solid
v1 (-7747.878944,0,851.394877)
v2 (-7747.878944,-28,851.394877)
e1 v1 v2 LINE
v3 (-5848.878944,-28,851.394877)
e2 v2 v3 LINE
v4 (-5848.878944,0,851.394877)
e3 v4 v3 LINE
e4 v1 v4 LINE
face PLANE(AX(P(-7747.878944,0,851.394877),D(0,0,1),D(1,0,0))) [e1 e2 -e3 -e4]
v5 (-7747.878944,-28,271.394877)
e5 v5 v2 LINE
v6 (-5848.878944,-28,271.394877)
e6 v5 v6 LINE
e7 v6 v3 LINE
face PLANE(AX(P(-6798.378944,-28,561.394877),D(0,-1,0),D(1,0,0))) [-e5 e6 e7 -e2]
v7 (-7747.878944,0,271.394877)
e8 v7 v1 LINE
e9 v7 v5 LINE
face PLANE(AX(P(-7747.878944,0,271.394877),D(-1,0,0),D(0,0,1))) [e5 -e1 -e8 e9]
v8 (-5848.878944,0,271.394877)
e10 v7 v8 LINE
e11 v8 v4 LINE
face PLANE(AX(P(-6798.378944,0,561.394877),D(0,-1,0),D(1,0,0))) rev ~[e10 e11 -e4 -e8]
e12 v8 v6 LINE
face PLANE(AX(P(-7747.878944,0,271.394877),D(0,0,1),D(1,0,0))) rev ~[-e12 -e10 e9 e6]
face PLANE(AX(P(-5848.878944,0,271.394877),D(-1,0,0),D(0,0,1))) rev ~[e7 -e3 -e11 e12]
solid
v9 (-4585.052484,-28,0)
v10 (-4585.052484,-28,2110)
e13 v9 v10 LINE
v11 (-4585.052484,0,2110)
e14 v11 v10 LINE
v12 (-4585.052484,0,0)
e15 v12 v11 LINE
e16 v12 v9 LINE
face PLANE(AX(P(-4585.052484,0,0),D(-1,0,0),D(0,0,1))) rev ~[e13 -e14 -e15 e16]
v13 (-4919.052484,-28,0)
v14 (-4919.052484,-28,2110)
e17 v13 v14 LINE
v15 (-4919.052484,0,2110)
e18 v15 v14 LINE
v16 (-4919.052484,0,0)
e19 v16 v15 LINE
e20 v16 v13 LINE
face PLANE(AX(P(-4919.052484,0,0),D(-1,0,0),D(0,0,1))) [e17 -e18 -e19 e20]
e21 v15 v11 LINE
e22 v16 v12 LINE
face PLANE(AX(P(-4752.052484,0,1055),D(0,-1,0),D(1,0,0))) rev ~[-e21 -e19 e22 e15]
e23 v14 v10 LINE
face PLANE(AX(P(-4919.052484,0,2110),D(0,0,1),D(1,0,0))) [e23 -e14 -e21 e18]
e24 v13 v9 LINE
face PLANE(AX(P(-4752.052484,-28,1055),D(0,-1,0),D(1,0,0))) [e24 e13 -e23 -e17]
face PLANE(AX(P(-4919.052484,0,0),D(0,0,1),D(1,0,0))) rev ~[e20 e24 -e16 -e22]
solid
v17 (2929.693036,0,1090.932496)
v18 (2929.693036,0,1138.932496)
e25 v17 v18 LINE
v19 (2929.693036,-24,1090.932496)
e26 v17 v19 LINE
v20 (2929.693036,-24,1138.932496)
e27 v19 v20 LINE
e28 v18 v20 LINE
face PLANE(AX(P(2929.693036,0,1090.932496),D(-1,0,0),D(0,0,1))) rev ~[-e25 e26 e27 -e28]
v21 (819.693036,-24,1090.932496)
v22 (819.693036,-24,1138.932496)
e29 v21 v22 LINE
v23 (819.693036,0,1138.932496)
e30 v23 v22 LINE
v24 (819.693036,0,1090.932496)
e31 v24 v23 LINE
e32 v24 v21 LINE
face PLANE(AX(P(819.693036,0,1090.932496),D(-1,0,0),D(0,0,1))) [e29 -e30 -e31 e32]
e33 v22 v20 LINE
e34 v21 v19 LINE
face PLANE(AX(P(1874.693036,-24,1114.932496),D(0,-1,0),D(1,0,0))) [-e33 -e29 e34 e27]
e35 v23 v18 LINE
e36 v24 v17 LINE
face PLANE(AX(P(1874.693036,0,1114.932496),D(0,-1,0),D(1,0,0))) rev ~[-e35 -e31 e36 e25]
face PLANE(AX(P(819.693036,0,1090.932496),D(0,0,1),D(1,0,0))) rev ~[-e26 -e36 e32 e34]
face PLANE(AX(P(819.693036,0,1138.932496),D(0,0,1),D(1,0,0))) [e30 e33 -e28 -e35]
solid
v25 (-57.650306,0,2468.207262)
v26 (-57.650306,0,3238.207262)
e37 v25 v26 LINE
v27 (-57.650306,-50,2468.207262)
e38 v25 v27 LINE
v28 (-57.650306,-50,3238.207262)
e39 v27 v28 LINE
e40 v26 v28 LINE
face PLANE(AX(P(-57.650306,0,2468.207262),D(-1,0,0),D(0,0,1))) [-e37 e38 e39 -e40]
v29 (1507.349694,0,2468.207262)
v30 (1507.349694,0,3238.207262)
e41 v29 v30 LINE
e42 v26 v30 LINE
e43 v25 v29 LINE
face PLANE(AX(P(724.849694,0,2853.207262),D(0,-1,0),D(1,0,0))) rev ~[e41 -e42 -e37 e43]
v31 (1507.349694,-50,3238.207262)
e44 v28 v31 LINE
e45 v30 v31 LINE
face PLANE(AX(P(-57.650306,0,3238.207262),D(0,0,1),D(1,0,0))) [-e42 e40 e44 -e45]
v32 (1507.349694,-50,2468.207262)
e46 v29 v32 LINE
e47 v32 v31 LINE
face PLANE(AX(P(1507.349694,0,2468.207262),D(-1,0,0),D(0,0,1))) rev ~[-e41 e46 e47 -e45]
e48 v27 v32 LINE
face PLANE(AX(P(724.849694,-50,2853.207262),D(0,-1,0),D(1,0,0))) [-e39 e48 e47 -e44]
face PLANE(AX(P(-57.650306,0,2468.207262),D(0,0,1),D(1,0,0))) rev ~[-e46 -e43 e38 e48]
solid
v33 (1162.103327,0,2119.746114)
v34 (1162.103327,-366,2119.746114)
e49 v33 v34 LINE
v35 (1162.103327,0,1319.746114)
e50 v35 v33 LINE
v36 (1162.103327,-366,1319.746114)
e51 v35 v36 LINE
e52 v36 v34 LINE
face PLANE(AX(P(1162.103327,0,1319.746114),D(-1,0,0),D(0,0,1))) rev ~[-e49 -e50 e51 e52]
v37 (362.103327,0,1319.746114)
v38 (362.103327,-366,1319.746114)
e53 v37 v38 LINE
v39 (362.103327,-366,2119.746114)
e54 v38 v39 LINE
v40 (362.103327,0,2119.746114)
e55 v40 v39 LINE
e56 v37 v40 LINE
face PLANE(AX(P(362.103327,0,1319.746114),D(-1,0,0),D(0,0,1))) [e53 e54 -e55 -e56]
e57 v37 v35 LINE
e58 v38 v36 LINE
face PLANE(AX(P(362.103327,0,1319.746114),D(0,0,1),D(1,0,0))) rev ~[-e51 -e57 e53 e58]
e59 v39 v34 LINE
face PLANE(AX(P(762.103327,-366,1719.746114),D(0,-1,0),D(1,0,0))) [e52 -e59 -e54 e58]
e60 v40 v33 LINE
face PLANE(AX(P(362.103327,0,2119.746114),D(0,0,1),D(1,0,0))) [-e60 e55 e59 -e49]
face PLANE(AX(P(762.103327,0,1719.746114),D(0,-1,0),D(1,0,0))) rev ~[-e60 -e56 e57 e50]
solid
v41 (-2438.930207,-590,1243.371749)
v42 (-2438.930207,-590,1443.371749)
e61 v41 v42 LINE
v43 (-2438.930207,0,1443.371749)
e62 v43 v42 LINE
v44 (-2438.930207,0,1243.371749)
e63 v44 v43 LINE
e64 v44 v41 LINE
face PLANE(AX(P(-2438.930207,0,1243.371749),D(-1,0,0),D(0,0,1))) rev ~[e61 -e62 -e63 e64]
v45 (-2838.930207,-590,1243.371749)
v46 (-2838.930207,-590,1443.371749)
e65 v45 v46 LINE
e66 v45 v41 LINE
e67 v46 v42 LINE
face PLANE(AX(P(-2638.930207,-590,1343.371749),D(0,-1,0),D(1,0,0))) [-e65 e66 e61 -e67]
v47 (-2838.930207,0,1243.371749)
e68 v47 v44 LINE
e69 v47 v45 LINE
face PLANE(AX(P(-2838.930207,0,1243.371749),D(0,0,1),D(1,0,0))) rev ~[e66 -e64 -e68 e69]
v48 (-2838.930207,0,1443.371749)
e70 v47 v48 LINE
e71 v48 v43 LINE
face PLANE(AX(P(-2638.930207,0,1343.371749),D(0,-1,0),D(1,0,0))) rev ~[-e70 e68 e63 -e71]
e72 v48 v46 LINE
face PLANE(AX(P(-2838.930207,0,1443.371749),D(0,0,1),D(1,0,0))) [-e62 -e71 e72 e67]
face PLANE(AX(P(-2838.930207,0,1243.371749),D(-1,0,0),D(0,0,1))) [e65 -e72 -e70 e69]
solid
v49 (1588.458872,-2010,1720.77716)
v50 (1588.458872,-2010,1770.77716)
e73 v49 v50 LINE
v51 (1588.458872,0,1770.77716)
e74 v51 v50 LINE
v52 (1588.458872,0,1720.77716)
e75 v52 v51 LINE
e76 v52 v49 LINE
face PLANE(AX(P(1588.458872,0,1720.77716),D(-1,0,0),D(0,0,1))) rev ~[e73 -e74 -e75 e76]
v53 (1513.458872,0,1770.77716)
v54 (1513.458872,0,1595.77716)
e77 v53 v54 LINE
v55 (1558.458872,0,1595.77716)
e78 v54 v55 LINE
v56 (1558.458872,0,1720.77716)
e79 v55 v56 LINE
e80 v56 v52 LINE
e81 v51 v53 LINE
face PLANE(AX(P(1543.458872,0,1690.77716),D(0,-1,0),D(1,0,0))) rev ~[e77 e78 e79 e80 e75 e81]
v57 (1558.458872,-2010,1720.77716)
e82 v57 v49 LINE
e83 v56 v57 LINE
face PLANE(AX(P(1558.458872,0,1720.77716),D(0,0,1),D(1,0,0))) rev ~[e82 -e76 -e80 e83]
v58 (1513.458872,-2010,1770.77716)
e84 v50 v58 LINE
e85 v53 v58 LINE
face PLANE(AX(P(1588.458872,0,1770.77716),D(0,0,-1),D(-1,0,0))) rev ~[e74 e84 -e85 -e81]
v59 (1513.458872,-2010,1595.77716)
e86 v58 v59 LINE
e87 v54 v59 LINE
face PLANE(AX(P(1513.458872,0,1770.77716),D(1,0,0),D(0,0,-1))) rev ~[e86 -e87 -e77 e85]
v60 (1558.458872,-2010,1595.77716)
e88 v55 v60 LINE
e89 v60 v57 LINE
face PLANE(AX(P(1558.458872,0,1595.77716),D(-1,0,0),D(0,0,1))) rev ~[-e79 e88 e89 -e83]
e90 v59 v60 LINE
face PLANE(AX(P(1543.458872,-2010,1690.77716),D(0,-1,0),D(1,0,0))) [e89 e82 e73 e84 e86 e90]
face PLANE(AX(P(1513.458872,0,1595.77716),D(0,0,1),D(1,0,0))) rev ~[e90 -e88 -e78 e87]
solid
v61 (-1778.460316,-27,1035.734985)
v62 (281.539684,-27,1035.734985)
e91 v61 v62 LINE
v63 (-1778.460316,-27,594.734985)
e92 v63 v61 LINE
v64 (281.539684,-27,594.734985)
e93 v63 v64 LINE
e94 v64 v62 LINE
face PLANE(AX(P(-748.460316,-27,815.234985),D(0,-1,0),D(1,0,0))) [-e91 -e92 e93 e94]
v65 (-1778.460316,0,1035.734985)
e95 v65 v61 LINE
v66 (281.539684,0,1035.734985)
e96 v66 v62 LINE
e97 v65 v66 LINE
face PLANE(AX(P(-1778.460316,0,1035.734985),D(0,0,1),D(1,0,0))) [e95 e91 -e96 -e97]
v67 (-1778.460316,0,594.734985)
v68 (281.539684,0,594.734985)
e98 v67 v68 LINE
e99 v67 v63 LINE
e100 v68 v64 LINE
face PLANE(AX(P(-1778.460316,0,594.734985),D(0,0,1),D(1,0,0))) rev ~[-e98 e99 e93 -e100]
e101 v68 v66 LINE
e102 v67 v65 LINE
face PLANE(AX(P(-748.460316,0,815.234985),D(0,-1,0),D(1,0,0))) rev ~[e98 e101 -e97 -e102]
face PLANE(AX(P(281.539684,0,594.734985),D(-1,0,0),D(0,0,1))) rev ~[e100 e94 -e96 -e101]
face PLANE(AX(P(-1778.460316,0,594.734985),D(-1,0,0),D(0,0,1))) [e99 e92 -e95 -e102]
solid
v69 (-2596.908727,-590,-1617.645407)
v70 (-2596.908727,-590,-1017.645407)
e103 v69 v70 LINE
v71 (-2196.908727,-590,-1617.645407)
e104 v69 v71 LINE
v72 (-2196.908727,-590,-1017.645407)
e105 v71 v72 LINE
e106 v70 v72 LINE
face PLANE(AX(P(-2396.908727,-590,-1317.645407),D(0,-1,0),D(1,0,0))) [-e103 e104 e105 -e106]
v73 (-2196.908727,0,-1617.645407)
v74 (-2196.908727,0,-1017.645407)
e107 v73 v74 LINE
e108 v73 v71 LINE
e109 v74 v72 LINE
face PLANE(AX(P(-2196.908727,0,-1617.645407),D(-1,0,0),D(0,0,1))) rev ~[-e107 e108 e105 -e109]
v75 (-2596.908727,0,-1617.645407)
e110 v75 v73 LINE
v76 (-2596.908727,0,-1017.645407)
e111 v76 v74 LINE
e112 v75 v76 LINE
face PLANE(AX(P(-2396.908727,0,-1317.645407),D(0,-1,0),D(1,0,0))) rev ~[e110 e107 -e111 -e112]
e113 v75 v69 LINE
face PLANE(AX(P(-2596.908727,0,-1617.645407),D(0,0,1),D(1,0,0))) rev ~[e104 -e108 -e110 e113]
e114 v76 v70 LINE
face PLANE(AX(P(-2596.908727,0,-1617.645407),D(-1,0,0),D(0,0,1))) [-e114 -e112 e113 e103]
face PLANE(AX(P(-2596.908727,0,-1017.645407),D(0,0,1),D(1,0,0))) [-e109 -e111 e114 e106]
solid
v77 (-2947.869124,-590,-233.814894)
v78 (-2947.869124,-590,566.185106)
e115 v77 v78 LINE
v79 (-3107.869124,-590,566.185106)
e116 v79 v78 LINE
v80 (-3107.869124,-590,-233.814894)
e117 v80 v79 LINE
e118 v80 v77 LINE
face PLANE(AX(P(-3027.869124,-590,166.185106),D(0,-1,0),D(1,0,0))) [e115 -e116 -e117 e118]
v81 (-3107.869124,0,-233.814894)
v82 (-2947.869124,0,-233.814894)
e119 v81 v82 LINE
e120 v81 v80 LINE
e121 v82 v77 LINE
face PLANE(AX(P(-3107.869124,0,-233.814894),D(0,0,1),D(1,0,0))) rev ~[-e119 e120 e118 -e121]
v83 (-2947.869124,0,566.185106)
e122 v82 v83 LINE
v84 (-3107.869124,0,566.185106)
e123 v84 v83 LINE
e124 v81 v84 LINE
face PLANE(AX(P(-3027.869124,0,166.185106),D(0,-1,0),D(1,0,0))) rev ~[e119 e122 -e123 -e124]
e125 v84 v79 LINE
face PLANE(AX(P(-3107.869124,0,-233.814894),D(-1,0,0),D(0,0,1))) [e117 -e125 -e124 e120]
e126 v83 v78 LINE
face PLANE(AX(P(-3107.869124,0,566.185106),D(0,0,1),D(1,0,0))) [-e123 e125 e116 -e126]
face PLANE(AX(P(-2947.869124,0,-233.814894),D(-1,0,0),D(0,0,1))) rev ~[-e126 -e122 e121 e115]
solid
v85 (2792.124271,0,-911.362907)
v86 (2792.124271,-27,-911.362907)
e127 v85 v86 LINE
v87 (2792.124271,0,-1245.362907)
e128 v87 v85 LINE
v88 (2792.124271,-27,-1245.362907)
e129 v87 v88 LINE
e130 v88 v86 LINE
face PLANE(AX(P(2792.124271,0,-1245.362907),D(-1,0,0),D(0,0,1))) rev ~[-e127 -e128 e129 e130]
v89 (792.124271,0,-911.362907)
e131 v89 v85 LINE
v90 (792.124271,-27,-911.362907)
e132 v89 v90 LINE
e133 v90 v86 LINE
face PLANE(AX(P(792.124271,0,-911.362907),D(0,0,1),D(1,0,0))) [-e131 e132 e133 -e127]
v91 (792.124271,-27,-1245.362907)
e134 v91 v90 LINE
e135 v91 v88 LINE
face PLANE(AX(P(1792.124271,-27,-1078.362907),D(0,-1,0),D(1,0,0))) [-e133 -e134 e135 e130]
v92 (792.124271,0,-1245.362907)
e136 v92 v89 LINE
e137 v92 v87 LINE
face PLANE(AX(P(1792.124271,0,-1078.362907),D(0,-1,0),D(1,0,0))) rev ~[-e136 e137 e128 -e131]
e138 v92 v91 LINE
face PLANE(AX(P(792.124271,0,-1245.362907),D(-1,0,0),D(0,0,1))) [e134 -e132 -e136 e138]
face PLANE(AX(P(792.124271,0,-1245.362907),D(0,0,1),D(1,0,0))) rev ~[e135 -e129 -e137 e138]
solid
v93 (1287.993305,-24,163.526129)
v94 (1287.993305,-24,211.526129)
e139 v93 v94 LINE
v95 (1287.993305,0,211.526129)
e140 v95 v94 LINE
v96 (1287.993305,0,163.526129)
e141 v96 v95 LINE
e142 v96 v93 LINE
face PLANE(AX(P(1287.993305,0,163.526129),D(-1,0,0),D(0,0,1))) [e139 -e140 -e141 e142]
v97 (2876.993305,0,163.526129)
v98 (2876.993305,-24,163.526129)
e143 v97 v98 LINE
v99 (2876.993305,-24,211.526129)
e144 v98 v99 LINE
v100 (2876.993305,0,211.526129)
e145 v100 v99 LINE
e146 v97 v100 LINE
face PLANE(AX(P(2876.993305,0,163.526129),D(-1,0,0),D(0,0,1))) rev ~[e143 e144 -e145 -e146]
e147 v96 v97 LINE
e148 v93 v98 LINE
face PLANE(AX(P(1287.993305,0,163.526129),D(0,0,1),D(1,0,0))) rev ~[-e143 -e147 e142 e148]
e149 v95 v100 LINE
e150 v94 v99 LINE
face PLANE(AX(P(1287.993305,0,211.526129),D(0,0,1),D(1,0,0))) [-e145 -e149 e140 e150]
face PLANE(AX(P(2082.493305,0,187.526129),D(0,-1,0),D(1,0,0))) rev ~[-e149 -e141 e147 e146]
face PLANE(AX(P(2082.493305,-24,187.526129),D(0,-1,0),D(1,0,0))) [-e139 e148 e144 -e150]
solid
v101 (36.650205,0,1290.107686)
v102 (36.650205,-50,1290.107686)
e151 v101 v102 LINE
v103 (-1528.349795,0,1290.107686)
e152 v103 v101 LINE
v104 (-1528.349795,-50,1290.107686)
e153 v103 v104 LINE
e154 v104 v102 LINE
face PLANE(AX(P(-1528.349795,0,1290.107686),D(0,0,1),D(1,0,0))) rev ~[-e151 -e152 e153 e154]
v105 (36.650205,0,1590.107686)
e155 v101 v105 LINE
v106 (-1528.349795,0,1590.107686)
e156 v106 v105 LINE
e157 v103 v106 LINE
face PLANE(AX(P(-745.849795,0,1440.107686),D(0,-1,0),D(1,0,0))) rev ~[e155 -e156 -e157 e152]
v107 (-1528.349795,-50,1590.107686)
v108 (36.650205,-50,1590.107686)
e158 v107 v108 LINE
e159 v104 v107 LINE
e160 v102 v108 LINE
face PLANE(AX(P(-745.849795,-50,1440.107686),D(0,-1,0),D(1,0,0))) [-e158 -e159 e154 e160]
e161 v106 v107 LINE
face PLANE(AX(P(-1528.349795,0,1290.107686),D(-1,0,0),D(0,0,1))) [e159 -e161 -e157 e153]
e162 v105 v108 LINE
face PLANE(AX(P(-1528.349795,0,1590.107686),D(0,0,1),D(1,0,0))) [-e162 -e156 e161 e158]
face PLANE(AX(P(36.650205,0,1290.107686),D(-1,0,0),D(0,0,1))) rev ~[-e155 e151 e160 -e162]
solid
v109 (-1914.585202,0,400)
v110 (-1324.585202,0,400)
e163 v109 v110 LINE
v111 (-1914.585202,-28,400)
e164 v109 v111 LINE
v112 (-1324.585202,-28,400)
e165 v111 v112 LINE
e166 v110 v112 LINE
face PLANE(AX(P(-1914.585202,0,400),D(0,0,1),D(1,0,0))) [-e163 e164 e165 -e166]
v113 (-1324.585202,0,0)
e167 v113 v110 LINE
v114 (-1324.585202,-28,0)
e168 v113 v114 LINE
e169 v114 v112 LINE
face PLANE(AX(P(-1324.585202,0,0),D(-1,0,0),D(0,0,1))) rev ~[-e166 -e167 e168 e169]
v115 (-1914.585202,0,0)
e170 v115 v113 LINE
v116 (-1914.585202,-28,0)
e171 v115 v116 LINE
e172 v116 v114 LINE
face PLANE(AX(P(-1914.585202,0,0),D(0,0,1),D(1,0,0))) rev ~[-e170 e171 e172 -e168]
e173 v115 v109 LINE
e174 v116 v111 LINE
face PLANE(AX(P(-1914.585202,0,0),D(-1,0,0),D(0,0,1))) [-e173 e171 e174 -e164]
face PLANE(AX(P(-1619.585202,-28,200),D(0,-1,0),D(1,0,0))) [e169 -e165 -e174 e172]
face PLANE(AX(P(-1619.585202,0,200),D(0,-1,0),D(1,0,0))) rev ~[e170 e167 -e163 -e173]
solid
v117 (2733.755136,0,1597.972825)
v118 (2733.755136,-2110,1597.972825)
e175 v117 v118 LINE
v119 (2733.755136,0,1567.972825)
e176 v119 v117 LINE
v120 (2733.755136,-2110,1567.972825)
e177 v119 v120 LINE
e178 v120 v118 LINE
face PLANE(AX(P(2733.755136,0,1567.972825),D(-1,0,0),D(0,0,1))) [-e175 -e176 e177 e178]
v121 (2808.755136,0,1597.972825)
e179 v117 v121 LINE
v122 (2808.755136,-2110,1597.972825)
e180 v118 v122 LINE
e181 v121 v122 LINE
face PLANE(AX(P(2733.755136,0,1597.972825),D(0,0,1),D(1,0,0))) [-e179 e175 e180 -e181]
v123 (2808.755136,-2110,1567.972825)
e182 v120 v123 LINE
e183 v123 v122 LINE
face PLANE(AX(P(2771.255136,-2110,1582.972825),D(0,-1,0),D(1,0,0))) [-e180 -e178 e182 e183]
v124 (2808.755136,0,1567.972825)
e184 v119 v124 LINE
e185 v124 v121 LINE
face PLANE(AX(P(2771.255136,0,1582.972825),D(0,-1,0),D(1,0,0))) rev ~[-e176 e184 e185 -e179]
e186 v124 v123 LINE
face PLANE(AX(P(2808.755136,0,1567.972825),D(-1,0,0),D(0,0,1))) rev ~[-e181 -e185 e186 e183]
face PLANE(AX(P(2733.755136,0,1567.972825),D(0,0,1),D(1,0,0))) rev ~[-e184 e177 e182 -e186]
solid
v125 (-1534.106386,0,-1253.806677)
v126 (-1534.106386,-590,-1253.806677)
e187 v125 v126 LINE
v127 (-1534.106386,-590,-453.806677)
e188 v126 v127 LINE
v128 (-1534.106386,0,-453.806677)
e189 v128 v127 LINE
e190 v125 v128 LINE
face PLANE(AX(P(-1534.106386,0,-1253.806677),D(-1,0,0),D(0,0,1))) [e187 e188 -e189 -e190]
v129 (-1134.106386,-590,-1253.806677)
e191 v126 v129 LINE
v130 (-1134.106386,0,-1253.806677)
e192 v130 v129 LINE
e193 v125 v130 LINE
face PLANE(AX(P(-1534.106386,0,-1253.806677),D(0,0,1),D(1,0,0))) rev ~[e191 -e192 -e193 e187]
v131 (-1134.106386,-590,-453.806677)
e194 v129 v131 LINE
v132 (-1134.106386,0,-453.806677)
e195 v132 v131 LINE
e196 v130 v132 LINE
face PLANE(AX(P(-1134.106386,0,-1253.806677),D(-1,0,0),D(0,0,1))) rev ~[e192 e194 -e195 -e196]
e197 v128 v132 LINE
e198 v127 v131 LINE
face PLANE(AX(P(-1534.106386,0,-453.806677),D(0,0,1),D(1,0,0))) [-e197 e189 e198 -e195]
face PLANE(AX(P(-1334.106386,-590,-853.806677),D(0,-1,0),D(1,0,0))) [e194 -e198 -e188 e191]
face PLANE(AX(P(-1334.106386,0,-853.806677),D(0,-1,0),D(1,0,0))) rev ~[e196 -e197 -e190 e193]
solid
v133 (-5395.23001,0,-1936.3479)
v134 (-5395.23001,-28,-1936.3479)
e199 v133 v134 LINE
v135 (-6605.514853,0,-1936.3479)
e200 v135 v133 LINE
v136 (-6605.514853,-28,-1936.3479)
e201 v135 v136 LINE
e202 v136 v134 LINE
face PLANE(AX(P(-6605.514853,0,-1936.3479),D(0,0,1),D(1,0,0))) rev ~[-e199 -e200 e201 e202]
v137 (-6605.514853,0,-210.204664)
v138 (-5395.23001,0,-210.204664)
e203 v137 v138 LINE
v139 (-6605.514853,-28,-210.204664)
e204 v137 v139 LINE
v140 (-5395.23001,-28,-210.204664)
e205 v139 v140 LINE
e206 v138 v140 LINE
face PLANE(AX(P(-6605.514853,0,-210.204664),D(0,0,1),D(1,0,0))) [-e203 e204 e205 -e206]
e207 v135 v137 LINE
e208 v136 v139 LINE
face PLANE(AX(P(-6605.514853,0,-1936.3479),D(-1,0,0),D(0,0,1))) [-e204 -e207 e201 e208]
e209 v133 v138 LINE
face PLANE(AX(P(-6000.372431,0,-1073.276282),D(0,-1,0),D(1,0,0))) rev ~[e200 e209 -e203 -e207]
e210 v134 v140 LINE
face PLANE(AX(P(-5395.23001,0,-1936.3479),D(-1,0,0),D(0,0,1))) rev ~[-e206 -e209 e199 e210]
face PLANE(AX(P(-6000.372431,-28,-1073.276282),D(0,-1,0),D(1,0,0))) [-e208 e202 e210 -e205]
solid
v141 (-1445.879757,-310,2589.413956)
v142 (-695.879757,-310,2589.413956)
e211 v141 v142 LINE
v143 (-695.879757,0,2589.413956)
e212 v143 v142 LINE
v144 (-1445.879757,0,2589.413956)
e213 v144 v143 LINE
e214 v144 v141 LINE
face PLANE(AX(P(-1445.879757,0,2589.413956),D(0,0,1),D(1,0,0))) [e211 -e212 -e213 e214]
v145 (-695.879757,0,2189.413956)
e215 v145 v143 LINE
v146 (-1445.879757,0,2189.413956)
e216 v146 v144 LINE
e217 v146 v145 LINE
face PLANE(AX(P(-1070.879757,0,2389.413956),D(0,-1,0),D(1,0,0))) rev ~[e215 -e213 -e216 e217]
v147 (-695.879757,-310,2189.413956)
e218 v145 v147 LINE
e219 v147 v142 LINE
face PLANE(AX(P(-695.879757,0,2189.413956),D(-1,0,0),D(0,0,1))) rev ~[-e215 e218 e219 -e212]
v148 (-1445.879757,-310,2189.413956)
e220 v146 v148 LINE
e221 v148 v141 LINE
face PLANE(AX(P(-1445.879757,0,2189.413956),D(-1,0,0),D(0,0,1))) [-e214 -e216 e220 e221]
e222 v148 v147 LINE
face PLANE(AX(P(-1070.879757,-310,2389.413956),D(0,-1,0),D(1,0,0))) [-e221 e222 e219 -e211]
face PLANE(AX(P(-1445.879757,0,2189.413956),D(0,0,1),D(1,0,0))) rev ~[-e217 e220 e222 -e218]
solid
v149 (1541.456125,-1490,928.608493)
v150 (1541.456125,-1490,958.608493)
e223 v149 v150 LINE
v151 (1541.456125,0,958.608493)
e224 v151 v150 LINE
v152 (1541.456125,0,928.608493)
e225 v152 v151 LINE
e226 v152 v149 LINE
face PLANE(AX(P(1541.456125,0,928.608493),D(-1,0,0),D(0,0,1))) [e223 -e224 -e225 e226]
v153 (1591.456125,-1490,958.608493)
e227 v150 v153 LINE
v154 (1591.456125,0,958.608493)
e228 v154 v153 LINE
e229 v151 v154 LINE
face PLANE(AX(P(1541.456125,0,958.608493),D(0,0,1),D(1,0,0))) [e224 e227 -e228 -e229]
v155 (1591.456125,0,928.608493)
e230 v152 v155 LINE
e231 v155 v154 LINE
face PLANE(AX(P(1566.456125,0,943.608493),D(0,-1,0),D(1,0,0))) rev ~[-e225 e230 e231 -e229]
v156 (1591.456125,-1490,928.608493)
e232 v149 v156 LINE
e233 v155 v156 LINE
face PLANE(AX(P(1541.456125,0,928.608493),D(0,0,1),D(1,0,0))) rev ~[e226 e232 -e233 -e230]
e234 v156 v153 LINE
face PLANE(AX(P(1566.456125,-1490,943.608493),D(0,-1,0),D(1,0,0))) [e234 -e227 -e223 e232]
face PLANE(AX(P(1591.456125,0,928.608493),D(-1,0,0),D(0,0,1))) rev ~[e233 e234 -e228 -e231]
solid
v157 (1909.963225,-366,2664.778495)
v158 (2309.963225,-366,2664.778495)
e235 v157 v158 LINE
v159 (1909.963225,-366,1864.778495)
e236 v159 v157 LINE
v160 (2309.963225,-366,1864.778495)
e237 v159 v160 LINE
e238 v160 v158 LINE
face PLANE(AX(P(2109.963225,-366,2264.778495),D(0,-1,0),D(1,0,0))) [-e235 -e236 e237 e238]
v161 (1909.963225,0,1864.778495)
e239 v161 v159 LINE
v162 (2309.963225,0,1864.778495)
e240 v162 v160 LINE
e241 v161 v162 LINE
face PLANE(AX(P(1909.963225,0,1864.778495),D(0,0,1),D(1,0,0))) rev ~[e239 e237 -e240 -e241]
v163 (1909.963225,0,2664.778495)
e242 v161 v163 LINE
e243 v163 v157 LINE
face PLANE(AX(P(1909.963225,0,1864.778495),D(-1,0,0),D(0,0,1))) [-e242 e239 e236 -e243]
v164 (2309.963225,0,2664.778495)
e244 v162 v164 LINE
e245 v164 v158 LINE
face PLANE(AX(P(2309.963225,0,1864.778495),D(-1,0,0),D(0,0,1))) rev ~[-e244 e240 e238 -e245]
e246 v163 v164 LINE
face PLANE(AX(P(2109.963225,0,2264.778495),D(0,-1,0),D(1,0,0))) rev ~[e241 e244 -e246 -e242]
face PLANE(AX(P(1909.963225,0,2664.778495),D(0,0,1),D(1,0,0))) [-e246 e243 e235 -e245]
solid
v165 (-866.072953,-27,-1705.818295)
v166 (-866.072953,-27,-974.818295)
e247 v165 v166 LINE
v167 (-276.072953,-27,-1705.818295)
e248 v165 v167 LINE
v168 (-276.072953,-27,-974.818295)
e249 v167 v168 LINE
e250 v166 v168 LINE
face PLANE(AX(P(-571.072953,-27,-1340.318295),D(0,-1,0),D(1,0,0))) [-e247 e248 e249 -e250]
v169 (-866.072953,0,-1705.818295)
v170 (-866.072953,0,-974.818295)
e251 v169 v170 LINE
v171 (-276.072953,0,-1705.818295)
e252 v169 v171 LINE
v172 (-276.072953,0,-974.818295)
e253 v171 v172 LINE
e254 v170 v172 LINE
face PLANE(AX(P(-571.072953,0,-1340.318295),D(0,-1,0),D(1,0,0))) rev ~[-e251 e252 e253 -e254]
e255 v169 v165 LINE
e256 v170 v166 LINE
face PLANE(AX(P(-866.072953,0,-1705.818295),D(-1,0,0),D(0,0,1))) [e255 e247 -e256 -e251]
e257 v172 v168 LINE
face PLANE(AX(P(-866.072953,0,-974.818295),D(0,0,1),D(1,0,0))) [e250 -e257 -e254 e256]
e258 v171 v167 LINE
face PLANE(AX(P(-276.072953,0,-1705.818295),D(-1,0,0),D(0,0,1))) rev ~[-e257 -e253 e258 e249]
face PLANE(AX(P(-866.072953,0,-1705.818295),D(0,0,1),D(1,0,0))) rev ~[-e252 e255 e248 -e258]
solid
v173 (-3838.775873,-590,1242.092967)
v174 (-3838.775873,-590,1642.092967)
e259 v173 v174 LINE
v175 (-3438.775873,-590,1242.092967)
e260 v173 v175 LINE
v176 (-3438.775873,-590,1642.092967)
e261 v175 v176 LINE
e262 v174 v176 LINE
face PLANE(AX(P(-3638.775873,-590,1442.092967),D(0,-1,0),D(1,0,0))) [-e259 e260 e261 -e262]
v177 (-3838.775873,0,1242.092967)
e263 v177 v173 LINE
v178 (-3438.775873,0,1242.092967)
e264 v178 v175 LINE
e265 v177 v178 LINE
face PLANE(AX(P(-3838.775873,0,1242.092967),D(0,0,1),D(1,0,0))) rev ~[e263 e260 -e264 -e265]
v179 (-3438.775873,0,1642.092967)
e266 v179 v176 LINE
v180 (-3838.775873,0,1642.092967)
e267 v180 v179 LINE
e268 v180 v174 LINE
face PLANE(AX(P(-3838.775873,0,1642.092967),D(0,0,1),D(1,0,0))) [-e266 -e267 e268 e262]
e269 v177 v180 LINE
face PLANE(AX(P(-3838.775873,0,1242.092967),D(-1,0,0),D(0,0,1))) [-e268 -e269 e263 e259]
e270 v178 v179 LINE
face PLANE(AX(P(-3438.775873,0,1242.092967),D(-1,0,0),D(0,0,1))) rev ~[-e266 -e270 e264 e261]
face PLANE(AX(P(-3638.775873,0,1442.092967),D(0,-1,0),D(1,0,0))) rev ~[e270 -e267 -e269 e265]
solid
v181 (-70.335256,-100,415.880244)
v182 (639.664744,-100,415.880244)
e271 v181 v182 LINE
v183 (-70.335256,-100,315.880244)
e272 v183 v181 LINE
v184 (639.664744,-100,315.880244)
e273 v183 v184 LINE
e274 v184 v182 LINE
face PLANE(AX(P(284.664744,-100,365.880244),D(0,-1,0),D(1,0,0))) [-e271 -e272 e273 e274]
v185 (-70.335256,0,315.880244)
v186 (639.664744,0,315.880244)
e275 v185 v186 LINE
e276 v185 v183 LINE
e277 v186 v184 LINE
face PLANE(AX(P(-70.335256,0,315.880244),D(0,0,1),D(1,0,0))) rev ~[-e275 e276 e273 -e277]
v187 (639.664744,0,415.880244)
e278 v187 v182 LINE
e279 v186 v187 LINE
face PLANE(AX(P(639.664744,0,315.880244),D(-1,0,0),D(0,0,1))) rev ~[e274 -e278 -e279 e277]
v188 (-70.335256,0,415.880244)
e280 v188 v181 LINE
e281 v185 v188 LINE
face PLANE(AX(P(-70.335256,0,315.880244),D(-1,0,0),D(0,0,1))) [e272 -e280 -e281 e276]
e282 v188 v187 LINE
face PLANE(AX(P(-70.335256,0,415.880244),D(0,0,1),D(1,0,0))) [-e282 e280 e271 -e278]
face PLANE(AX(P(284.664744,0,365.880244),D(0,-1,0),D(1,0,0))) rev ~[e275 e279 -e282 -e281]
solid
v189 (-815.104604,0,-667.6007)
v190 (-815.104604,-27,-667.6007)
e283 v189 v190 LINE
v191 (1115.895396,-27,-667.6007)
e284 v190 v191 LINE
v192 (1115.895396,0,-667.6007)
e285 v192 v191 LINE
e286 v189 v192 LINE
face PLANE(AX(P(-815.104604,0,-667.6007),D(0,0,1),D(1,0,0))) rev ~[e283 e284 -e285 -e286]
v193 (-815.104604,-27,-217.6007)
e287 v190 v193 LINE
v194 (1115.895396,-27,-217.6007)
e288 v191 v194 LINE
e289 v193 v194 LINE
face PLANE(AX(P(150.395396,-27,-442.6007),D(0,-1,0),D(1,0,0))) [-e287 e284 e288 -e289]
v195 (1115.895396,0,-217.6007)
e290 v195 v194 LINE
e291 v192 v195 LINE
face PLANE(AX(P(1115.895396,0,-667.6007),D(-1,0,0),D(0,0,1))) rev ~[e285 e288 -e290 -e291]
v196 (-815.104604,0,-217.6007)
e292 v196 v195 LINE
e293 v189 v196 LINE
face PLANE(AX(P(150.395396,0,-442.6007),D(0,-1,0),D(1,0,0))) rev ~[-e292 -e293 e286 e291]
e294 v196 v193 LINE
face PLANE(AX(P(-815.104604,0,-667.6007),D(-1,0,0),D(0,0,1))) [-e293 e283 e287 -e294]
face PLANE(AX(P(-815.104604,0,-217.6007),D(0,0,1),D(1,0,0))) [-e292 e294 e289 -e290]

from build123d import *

# Parameters (mm, degrees)
F0_W      = 710
F0_H      = 100
F1_DEPTH  = 100
F2_W      = 2000
F2_H      = 334
F3_DEPTH  = 27
F4_W      = 1565
F4_H      = 770
F4_H_2    = 300
F5_DEPTH  = 50
F7_DEPTH  = 2010
F8_W      = 2110
F8_H      = 48
F9_DEPTH  = 24
F10_W     = 1589
F10_H     = 48
F11_DEPTH = 24
F12_W     = 1899
F12_H     = 580
F12_W_2   = 334
F12_H_2   = 2110
F12_W_3   = 1210.284843
F12_H_3   = 1726.143237
F13_DEPTH = 28
F14_W     = 800
F14_H     = 800
F15_DEPTH = 366
F16_W     = 400
F16_H     = 800
F17_DEPTH = 366
F18_W     = 750
F18_H     = 400
F19_DEPTH = 310
F20_W     = 75
F20_H     = 30
F21_DEPTH = 2110
F22_W     = 400
F22_H     = 200
F22_H_2   = 400
F23_DEPTH = 590
F24_W     = 400
F24_H     = 600
F25_DEPTH = 590
F26_W     = 590
F26_H     = 400
F27_DEPTH = 28
F28_W     = 160
F28_H     = 800
F29_DEPTH = 590
F30_W     = 400
F30_H     = 800
F31_DEPTH = 590
F32_W     = 2060
F32_H     = 441
F32_W_2   = 1931
F32_H_2   = 450
F32_W_3   = 590
F32_H_3   = 731
F33_DEPTH = 27
F34_W     = 50
F34_H     = 30
F35_DEPTH = 1490


with BuildPart() as f1:
    # F0 (on Front) → F1 (new body)
    with BuildSketch(Plane.XZ):
        with Locations((284.664744, 365.880244)):
            Rectangle(F0_W, F0_H)
    extrude(amount=F1_DEPTH)


with BuildPart() as f3:
    # F2 (on Front) → F3 (new body)
    with BuildSketch(Plane.XZ):
        with Locations((1792.124271, -1078.362907)):
            Rectangle(F2_W, F2_H)
    extrude(amount=F3_DEPTH)


with BuildPart() as f5:
    # F4 (on Front) → F5 (new body)
    with BuildSketch(Plane.XZ):
        with Locations((724.849694, 2853.207262)):
            Rectangle(F4_W, F4_H)
        with Locations((-745.849795, 1440.107686)):
            Rectangle(F4_W, F4_H_2)
    extrude(amount=F5_DEPTH)


with BuildPart() as f7:
    # F6 (on Front) → F7 (new body)
    with BuildSketch(Plane.XZ):
        Polygon((1513.458872, 1595.77716), (1558.458872, 1595.77716), (1558.458872, 1720.77716), (1588.458872, 1720.77716), (1588.458872, 1770.77716), (1513.458872, 1770.77716), align=None)
    extrude(amount=F7_DEPTH)


with BuildPart() as f9:
    # F8 (on Front) → F9 (new body)
    with BuildSketch(Plane.XZ):
        with Locations((1874.693036, 1114.932496)):
            Rectangle(F8_W, F8_H)
    extrude(amount=F9_DEPTH)


with BuildPart() as f11:
    # F10 (on Front) → F11 (new body)
    with BuildSketch(Plane.XZ):
        with Locations((2082.493305, 187.526129)):
            Rectangle(F10_W, F10_H)
    extrude(amount=F11_DEPTH)


with BuildPart() as f13:
    # F12 (on Front) → F13 (new body)
    with BuildSketch(Plane.XZ):
        with Locations((-6798.378944, 561.394877)):
            Rectangle(F12_W, F12_H)
        with Locations((-4752.052484, 1055)):
            Rectangle(F12_W_2, F12_H_2)
        with Locations((-6000.372431, -1073.276282)):
            Rectangle(F12_W_3, F12_H_3)
    extrude(amount=F13_DEPTH)


with BuildPart() as f15:
    # F14 (on Front) → F15 (new body)
    with BuildSketch(Plane.XZ):
        with Locations((762.103327, 1719.746114)):
            Rectangle(F14_W, F14_H)
    extrude(amount=F15_DEPTH)


with BuildPart() as f17:
    # F16 (on Front) → F17 (new body)
    with BuildSketch(Plane.XZ):
        with Locations((2109.963225, 2264.778495)):
            Rectangle(F16_W, F16_H)
    extrude(amount=F17_DEPTH)


with BuildPart() as f19:
    # F18 (on Front) → F19 (new body)
    with BuildSketch(Plane.XZ):
        with Locations((-1070.879757, 2389.413956)):
            Rectangle(F18_W, F18_H)
    extrude(amount=F19_DEPTH)


with BuildPart() as f21:
    # F20 (on Front) → F21 (new body)
    with BuildSketch(Plane.XZ):
        with Locations((2771.255136, 1582.972825)):
            Rectangle(F20_W, F20_H)
    extrude(amount=F21_DEPTH)


with BuildPart() as f23:
    # F22 (on Front) → F23 (new body)
    with BuildSketch(Plane.XZ):
        with Locations((-2638.930207, 1343.371749)):
            Rectangle(F22_W, F22_H)
        with Locations((-3638.775873, 1442.092967)):
            Rectangle(F22_W, F22_H_2)
    extrude(amount=F23_DEPTH)


with BuildPart() as f25:
    # F24 (on Front) → F25 (new body)
    with BuildSketch(Plane.XZ):
        with Locations((-2396.908727, -1317.645407)):
            Rectangle(F24_W, F24_H)
    extrude(amount=F25_DEPTH)


with BuildPart() as f27:
    # F26 (on Front) → F27 (new body)
    with BuildSketch(Plane.XZ):
        with Locations((-1619.585202, 200)):
            Rectangle(F26_W, F26_H)
    extrude(amount=F27_DEPTH)


with BuildPart() as f29:
    # F28 (on Front) → F29 (new body)
    with BuildSketch(Plane.XZ):
        with Locations((-3027.869124, 166.185106)):
            Rectangle(F28_W, F28_H)
    extrude(amount=F29_DEPTH)


with BuildPart() as f31:
    # F30 (on Front) → F31 (new body)
    with BuildSketch(Plane.XZ):
        with Locations((-1334.106386, -853.806677)):
            Rectangle(F30_W, F30_H)
    extrude(amount=F31_DEPTH)


with BuildPart() as f33:
    # F32 (on Front) → F33 (new body)
    with BuildSketch(Plane.XZ):
        with Locations((-748.460316, 815.234985)):
            Rectangle(F32_W, F32_H)
        with Locations((150.395396, -442.6007)):
            Rectangle(F32_W_2, F32_H_2)
        with Locations((-571.072953, -1340.318295)):
            Rectangle(F32_W_3, F32_H_3)
    extrude(amount=F33_DEPTH)


with BuildPart() as f35:
    # F34 (on Front) → F35 (new body)
    with BuildSketch(Plane.XZ):
        with Locations((1566.456125, 943.608493)):
            Rectangle(F34_W, F34_H)
    extrude(amount=F35_DEPTH)


solid = Compound([f1.part, f3.part, f5.part, f7.part, f9.part, f11.part, f13.part, f15.part, f17.part, f19.part, f21.part, f23.part, f25.part, f27.part, f29.part, f31.part, f33.part, f35.part])
